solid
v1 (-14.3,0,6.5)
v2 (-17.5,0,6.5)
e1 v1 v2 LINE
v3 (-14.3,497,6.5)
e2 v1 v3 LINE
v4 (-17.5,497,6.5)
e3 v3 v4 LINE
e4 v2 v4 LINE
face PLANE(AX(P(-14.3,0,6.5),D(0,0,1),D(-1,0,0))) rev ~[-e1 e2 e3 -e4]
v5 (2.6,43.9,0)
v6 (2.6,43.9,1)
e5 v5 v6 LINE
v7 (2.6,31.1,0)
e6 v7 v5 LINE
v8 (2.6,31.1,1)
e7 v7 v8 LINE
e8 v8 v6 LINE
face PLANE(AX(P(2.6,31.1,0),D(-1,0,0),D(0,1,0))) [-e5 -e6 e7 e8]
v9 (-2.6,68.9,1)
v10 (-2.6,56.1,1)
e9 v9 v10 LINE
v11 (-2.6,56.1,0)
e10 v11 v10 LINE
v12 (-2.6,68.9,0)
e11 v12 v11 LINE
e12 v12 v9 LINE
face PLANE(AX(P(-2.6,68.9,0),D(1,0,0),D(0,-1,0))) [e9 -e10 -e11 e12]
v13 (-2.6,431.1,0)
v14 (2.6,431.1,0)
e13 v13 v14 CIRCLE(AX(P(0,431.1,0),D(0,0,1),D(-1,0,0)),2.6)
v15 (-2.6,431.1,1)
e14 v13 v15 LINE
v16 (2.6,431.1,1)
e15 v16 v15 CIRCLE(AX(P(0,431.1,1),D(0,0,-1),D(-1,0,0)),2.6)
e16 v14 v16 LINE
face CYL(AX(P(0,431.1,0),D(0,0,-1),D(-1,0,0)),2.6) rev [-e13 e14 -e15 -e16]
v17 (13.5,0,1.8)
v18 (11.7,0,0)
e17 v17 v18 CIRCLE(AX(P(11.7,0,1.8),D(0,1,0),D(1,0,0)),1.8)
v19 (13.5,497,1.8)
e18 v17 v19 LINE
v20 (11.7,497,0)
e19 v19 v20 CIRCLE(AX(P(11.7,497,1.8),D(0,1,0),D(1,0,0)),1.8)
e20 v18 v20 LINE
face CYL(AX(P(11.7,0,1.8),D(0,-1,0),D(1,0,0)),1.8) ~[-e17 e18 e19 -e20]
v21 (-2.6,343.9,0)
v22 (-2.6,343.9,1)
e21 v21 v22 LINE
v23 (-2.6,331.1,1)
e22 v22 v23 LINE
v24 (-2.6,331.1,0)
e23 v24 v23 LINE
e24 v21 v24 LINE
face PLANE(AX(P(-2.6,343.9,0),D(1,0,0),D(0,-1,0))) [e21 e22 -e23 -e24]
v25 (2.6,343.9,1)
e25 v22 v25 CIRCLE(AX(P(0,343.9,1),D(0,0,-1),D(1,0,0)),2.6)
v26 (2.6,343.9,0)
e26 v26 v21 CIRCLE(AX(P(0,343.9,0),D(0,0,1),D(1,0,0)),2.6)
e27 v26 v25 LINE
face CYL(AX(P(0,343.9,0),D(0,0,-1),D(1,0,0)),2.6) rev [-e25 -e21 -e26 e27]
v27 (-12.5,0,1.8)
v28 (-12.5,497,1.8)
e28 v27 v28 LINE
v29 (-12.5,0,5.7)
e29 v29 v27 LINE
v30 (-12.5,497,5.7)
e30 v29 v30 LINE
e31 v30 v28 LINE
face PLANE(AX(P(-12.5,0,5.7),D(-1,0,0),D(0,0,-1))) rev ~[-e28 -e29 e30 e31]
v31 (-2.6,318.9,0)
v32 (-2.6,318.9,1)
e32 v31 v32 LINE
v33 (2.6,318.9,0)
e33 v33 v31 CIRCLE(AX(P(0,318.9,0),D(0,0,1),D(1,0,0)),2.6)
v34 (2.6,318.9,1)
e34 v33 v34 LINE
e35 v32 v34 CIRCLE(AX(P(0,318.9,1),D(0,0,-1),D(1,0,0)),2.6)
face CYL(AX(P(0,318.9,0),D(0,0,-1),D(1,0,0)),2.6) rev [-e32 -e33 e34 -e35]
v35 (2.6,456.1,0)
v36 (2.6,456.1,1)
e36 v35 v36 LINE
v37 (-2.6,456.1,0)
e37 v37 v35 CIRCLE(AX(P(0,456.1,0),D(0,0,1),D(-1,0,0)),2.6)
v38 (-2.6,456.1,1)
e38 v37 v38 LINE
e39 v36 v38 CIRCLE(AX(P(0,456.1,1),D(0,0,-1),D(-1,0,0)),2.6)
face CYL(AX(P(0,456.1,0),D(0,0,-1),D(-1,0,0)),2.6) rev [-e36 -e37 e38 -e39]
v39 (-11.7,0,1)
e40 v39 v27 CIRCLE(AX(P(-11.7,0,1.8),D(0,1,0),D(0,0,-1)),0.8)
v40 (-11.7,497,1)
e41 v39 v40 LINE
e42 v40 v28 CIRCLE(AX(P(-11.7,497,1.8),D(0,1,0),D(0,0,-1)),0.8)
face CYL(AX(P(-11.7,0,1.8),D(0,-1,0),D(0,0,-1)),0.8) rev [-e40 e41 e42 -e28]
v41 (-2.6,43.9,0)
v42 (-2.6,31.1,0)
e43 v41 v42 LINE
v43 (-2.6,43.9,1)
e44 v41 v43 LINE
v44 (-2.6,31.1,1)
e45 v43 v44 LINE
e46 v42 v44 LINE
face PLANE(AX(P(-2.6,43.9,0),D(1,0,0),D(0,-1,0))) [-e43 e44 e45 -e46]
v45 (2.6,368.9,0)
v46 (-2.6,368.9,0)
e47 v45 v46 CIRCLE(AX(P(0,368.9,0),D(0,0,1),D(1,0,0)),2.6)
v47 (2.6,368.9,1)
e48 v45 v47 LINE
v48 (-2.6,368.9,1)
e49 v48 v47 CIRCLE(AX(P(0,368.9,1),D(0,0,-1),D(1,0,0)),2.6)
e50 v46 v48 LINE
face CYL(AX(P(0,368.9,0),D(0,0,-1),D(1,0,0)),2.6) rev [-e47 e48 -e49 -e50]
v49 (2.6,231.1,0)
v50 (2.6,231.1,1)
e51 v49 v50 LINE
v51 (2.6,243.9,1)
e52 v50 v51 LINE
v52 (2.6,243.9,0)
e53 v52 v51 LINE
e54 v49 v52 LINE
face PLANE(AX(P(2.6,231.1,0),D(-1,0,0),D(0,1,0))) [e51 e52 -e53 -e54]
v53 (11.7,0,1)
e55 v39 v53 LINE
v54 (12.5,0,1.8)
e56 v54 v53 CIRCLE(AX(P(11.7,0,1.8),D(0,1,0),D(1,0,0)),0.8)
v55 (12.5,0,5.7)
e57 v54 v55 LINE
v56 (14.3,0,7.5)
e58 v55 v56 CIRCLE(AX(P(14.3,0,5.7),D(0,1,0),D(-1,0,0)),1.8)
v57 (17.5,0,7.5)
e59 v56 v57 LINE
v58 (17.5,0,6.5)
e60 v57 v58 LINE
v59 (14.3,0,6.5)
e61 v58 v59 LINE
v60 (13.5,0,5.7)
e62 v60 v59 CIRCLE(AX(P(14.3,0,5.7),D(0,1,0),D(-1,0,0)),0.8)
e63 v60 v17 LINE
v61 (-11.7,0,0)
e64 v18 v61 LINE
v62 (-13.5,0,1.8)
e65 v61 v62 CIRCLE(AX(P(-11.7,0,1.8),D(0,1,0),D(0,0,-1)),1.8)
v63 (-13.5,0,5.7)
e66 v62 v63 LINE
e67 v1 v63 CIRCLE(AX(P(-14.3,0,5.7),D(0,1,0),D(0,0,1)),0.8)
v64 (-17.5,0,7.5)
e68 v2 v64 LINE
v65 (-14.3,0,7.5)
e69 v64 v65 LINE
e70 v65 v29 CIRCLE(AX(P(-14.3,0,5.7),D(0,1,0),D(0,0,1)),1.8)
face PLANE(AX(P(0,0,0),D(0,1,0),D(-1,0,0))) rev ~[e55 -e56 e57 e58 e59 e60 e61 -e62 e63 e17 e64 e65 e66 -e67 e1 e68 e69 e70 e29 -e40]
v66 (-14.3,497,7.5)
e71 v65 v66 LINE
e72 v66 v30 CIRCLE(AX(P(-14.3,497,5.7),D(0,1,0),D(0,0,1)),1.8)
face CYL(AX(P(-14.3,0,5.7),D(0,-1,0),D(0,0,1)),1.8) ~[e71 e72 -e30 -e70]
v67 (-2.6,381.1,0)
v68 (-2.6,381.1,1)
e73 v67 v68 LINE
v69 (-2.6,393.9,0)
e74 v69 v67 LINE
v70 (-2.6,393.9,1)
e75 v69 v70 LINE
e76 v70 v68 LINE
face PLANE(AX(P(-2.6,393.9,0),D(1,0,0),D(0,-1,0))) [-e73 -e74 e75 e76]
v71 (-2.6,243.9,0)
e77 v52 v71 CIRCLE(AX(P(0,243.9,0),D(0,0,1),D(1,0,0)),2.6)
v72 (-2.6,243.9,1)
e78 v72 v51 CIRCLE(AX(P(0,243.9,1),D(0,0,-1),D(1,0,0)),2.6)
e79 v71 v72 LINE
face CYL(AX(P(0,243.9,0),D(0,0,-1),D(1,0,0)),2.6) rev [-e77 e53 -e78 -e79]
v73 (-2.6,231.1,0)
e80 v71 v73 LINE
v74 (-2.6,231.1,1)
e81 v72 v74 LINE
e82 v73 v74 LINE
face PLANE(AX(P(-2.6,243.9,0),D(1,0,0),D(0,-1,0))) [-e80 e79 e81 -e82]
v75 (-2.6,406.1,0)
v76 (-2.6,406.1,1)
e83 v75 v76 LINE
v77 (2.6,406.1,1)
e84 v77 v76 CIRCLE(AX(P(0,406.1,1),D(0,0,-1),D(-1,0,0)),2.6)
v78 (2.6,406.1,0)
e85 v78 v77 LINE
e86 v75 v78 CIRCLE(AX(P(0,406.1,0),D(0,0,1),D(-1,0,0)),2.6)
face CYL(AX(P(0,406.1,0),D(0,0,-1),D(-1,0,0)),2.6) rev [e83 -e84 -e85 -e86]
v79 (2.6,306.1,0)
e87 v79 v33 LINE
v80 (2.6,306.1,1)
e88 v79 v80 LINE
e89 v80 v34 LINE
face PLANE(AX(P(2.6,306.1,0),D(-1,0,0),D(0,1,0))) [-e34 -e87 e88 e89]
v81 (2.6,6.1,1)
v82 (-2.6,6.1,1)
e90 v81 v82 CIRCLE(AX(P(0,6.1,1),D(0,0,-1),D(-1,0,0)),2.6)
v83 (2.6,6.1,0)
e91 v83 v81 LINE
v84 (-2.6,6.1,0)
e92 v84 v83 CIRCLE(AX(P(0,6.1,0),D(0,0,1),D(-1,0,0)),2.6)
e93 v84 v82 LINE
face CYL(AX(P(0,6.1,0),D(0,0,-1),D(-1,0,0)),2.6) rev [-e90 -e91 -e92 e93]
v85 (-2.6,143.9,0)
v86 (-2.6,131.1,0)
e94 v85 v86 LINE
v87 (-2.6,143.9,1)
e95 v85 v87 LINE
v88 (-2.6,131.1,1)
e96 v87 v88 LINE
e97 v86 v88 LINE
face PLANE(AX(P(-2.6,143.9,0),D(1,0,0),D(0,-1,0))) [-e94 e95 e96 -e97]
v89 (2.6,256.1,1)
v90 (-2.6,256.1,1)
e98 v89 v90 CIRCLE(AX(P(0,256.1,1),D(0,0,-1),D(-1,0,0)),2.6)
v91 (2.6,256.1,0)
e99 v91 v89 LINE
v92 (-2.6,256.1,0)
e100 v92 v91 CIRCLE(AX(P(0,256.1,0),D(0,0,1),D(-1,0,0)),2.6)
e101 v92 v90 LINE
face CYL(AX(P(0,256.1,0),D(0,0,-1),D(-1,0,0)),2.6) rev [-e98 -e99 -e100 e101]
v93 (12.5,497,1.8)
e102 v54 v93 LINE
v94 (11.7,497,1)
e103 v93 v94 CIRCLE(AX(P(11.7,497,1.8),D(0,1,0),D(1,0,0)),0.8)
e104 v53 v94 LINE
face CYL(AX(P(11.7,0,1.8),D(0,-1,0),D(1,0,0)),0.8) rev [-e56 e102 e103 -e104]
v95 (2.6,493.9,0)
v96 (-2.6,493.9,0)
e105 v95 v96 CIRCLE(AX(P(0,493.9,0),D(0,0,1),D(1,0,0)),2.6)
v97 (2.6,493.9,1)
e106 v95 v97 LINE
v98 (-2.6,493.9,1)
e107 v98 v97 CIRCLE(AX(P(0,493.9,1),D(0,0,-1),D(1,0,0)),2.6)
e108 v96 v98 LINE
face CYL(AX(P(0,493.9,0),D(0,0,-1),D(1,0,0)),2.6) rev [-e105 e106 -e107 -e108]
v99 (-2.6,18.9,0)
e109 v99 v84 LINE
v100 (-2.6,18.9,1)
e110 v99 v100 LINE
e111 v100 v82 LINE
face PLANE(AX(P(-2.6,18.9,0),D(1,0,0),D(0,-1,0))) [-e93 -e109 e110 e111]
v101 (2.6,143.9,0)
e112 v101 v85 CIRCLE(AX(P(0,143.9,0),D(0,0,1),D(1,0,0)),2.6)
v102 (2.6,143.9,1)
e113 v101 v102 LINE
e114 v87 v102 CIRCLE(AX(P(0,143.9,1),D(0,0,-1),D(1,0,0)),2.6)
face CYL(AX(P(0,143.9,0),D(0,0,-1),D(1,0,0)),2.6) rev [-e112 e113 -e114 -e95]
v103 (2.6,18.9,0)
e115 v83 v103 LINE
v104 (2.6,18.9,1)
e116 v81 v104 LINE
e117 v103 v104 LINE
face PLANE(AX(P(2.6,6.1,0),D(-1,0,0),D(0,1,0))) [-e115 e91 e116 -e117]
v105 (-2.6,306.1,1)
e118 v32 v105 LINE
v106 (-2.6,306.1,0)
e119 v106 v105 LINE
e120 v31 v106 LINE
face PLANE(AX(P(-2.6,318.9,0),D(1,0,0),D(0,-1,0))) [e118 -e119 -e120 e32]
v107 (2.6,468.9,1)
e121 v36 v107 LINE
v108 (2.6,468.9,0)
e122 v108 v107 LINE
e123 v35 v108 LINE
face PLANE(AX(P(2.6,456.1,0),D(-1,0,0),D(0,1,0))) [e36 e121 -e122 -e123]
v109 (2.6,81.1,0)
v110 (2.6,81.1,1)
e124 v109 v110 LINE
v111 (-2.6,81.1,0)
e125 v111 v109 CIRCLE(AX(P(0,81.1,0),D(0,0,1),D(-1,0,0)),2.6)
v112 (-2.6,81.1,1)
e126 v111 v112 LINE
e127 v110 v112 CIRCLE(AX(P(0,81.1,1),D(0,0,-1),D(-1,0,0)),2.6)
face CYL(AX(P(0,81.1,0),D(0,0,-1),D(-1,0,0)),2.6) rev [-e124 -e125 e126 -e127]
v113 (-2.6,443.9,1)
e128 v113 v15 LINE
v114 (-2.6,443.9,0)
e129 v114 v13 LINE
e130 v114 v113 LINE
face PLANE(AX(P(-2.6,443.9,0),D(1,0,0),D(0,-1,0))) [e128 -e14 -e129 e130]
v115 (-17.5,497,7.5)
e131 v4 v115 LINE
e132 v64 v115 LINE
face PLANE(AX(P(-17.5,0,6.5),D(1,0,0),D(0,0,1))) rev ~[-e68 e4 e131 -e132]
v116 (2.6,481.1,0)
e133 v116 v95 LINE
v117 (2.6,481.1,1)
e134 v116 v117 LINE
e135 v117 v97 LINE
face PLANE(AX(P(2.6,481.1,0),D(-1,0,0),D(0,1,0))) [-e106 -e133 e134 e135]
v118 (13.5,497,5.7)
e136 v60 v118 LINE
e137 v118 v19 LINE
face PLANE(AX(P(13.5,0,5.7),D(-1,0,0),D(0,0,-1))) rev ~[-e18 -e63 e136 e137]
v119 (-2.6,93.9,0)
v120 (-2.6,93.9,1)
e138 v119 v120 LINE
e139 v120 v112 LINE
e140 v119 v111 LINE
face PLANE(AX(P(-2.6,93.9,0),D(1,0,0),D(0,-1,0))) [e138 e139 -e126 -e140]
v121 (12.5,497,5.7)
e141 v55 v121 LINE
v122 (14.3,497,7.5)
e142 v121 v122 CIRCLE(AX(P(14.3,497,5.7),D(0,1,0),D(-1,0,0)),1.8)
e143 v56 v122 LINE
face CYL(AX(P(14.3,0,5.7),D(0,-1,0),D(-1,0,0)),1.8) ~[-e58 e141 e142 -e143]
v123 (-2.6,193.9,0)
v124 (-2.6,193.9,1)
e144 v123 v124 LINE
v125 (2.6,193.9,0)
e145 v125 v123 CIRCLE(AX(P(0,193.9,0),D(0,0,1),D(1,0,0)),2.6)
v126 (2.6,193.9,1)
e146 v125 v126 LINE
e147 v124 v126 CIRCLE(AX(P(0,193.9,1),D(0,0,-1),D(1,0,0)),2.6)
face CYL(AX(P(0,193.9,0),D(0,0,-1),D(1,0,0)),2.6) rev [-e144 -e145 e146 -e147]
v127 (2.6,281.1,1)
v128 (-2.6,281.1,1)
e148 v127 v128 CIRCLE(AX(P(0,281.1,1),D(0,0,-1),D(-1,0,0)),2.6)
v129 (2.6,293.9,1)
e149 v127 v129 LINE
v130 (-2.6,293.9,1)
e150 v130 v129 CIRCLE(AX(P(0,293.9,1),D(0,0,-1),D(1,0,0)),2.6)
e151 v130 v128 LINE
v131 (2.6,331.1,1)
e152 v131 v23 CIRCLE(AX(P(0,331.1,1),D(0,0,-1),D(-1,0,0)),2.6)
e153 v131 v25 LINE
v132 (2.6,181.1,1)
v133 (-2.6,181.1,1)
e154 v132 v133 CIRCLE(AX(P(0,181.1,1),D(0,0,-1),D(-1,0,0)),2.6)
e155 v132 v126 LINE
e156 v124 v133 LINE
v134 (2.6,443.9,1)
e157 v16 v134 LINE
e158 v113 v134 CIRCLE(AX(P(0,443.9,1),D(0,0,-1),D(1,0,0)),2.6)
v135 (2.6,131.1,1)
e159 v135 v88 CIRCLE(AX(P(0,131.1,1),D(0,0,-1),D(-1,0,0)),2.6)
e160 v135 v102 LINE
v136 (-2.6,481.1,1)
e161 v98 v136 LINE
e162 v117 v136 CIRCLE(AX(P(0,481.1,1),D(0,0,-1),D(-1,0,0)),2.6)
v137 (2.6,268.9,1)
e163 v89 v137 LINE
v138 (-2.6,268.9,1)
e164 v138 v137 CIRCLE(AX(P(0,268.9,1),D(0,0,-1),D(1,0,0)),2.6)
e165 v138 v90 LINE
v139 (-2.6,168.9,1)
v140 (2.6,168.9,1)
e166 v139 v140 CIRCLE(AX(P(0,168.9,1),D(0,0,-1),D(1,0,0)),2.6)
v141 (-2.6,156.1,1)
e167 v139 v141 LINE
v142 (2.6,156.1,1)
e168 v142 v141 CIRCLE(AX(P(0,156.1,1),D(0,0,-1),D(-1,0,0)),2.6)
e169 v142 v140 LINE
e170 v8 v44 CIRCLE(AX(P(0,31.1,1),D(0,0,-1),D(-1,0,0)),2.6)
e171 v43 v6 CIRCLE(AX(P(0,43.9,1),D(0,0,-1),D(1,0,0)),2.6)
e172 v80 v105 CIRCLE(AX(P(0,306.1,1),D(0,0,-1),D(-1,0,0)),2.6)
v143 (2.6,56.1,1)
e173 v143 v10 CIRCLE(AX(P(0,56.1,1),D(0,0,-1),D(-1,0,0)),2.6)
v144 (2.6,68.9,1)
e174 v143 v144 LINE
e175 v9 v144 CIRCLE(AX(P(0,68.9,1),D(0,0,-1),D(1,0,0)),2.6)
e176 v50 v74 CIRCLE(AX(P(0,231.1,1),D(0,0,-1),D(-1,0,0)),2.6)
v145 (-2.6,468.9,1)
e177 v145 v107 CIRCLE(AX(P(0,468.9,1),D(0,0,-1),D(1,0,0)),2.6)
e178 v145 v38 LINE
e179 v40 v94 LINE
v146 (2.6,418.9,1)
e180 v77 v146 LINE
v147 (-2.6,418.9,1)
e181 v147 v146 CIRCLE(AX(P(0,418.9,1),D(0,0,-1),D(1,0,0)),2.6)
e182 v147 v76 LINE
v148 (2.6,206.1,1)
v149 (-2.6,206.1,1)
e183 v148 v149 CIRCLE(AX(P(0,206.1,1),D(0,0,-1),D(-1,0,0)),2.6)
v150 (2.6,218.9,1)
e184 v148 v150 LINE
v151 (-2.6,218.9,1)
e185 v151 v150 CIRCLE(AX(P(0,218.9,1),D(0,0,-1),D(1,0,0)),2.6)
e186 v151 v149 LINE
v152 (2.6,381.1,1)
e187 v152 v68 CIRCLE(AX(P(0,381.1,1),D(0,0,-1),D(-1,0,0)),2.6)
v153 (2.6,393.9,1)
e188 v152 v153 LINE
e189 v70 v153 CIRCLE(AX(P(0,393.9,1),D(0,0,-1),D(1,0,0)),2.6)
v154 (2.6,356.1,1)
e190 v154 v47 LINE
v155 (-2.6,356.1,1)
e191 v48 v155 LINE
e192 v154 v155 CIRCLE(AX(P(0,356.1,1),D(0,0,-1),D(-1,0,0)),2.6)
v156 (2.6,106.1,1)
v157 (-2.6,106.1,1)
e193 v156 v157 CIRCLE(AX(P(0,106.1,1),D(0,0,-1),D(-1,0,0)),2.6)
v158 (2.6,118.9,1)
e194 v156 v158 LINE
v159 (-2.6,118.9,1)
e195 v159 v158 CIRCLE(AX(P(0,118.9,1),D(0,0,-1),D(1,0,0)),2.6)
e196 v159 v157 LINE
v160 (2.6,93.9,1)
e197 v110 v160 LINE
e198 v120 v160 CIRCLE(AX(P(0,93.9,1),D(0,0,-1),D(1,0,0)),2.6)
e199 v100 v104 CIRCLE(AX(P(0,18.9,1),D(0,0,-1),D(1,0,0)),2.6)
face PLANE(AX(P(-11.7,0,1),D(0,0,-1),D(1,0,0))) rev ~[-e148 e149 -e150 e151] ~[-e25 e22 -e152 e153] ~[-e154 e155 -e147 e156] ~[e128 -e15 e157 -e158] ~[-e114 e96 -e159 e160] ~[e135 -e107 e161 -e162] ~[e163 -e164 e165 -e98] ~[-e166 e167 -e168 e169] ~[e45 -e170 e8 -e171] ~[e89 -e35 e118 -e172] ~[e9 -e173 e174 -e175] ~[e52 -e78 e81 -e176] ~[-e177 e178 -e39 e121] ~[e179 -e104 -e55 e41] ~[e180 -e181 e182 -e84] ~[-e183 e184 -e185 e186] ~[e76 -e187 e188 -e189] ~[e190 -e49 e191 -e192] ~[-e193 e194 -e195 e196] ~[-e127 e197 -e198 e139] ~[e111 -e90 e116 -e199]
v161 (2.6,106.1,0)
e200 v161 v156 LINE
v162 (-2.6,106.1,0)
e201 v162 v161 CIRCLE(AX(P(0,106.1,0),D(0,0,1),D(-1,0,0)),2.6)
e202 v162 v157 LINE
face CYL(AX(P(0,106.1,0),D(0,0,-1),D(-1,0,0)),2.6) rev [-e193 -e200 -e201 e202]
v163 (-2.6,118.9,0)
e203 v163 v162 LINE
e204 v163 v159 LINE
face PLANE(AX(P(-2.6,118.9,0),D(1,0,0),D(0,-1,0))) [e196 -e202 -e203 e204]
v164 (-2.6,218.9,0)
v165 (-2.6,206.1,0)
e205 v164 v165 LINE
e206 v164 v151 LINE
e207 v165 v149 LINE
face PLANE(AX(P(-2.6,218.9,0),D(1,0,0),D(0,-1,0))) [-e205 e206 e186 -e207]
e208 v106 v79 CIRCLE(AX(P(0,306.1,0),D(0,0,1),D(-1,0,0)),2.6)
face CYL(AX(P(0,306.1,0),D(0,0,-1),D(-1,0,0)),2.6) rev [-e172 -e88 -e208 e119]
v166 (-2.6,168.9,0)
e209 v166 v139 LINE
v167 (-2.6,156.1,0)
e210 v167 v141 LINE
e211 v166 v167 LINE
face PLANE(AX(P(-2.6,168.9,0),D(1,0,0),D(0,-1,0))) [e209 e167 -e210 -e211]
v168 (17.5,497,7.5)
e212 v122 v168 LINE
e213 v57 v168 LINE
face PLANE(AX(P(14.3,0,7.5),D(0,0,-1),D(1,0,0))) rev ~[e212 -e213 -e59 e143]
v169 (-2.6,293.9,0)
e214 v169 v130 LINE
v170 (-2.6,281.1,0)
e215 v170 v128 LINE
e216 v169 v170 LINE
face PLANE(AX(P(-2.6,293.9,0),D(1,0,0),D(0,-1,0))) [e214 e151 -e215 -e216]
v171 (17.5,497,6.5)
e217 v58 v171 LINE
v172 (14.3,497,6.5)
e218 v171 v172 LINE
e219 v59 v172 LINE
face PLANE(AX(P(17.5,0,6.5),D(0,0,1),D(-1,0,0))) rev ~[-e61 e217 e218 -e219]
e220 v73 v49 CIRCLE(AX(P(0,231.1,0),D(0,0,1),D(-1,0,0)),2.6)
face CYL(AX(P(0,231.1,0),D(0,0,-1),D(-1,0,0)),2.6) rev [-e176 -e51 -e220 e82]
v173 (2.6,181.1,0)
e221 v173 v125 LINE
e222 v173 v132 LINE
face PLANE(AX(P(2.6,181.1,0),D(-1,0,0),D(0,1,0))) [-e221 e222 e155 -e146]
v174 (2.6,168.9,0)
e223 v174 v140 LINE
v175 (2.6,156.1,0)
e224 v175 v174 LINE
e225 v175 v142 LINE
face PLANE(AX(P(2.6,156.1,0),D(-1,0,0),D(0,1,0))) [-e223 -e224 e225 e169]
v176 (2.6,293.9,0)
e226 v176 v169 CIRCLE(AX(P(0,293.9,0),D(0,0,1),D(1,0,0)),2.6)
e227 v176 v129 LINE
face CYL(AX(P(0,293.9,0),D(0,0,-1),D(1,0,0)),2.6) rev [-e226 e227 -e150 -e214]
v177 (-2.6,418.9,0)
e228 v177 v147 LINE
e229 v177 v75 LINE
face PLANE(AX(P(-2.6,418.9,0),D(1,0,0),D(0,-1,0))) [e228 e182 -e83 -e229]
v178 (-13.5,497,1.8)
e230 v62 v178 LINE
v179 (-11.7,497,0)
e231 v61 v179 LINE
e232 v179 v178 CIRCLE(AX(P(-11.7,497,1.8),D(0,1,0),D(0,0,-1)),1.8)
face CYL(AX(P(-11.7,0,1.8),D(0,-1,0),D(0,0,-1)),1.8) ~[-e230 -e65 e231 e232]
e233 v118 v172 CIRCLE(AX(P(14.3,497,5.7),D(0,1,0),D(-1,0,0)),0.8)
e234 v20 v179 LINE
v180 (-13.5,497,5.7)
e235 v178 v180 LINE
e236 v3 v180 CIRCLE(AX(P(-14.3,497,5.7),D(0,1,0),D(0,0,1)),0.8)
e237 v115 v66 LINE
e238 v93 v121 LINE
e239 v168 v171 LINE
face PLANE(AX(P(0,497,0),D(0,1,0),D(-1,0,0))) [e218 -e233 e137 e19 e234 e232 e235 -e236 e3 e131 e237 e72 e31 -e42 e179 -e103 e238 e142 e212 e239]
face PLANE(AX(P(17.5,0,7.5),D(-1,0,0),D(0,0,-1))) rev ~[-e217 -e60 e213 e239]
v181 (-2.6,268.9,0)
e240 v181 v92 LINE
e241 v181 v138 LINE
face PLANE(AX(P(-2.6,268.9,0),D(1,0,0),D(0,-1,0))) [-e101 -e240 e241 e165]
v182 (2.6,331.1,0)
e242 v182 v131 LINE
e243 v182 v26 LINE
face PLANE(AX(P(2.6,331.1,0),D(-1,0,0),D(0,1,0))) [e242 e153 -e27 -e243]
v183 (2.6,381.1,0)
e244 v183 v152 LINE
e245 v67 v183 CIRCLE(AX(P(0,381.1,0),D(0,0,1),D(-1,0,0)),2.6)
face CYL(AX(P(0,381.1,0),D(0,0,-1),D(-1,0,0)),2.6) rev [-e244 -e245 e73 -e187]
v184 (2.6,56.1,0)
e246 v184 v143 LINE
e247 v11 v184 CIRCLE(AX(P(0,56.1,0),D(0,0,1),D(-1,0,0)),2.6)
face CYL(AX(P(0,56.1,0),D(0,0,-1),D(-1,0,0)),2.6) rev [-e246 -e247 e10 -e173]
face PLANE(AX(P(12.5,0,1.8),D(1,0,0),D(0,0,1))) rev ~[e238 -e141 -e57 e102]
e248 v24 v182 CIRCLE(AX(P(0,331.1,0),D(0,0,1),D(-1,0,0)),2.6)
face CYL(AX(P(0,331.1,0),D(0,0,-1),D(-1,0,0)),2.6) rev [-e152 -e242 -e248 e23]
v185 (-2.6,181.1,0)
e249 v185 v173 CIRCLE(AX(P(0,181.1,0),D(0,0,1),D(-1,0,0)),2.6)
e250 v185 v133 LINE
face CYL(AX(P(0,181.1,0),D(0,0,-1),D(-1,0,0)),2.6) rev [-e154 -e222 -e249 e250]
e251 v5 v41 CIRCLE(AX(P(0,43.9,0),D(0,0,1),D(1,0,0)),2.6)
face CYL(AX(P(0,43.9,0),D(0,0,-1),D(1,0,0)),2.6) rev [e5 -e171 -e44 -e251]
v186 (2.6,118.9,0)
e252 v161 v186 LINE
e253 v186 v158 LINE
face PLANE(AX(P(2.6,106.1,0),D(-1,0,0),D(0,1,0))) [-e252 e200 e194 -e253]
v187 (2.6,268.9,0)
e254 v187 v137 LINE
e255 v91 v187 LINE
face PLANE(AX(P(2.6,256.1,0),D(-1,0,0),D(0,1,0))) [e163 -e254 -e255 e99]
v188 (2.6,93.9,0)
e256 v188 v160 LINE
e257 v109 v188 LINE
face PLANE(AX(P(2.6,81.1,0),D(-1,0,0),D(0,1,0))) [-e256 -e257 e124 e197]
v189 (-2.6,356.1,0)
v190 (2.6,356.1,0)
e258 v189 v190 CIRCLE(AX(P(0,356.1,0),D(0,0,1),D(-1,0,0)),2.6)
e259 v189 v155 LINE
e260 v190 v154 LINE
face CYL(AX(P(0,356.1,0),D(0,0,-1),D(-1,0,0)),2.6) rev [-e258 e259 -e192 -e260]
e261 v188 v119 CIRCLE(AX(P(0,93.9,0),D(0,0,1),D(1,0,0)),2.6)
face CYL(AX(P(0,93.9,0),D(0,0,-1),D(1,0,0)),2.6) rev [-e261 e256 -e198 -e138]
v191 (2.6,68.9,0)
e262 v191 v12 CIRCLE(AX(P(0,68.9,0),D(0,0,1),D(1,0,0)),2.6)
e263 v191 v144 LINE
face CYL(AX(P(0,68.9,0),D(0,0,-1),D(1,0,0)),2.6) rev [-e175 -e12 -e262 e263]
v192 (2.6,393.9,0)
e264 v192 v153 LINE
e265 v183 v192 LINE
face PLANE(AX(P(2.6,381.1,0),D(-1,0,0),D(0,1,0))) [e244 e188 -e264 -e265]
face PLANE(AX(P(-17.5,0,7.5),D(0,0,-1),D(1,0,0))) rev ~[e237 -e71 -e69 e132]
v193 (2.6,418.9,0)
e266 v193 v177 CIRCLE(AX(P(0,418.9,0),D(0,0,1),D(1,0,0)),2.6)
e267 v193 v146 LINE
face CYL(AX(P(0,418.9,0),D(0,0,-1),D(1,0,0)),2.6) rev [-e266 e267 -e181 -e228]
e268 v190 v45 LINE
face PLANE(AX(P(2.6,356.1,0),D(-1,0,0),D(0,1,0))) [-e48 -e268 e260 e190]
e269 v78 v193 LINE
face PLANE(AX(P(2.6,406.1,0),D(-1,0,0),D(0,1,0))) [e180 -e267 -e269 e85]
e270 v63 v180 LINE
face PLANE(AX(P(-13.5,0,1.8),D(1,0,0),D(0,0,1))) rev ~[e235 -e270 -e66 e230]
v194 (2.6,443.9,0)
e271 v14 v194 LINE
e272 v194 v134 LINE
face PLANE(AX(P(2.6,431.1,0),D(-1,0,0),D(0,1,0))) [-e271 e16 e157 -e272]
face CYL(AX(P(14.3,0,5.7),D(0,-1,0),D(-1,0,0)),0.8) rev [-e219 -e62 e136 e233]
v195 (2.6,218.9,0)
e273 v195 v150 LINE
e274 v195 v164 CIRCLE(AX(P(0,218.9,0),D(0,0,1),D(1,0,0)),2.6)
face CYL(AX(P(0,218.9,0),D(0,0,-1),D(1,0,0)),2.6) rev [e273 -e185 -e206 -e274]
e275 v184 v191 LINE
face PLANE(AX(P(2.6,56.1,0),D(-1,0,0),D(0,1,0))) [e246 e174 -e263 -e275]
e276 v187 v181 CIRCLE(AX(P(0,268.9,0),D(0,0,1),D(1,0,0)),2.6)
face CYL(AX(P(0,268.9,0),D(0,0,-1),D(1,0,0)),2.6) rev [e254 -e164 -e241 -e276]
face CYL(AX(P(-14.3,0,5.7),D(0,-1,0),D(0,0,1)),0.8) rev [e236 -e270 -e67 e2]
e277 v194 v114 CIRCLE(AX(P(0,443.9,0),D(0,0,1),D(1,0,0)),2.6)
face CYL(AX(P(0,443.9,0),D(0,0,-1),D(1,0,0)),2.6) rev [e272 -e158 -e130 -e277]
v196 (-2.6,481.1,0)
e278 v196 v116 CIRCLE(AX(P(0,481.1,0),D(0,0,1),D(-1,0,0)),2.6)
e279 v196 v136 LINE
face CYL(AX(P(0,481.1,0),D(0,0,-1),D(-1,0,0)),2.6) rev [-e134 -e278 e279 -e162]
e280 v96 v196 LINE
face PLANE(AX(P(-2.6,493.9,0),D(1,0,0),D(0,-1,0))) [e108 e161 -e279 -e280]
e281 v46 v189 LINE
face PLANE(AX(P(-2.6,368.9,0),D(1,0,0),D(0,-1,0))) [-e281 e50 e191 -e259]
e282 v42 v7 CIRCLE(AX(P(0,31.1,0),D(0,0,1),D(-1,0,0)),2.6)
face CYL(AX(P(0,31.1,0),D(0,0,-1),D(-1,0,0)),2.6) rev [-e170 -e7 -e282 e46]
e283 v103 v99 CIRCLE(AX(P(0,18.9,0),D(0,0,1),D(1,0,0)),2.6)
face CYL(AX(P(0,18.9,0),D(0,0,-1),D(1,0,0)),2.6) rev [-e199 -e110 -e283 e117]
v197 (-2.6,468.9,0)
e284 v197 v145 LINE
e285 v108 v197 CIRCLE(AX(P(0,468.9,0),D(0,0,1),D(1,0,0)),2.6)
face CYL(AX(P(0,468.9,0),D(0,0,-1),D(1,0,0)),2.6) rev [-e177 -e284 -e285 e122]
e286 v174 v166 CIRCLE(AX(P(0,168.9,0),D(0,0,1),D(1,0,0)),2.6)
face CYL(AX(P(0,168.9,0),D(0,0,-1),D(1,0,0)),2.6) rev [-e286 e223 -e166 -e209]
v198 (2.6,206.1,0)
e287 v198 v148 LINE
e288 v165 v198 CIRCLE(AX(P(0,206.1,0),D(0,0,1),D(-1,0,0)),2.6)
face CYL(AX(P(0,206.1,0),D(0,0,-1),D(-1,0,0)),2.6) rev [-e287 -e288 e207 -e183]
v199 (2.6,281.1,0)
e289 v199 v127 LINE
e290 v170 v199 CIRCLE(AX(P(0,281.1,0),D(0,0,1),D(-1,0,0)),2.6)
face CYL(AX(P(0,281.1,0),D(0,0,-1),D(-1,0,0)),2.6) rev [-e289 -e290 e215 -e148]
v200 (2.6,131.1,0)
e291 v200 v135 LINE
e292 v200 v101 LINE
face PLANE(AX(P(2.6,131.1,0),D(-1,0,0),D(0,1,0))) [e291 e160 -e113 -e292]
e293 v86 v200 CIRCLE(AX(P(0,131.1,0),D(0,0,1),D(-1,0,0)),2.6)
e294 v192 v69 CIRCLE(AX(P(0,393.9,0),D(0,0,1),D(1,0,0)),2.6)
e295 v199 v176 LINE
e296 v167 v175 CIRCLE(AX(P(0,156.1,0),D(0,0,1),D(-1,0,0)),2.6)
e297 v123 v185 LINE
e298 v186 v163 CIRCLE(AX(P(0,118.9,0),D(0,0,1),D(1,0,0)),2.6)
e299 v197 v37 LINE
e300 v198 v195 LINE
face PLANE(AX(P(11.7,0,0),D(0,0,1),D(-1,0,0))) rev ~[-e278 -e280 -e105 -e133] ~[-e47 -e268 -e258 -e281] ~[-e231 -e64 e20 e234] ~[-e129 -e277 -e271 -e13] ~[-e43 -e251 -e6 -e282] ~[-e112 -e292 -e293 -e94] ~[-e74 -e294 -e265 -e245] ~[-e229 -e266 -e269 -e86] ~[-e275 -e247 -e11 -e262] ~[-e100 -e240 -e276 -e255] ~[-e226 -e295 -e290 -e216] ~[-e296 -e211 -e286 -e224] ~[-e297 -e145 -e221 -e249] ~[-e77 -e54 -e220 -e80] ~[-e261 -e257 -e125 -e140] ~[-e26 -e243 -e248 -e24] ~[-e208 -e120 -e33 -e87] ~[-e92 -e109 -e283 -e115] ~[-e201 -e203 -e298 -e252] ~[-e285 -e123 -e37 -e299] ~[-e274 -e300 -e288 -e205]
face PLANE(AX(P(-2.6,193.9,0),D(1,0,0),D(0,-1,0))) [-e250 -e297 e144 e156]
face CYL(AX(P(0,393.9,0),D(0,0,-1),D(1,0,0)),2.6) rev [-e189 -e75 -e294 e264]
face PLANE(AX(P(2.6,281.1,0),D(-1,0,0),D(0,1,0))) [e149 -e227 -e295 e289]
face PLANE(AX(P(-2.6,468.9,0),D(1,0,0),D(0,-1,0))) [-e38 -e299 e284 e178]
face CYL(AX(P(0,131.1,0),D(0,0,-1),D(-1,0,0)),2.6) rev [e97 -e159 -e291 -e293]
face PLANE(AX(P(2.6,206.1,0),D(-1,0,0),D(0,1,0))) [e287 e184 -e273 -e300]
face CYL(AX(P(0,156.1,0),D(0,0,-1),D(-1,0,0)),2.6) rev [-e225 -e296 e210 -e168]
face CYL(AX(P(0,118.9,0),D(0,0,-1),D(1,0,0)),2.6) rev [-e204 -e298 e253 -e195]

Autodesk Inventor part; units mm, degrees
sketch "Sketch_2" plane through (0, 0, 0) normal (0, 1, 0) x (-1, 0, 0)
  line L0 (17.5, 6.5) -> (17.5, 7.5)
  line L1 (17.5, 7.5) -> (14.3, 7.5)
  arc A0 (14.3, 7.5) -> (12.5, 5.7) centre (14.3, 5.7) ccw
  line L2 (12.5, 5.7) -> (12.5, 1.8)
  arc A1 (11.7, 1) -> (12.5, 1.8) centre (11.7, 1.8) ccw
  line L3 (11.7, 1) -> (-11.7, 1)
  arc A2 (-12.5, 1.8) -> (-11.7, 1) centre (-11.7, 1.8) ccw
  line L4 (-12.5, 1.8) -> (-12.5, 5.7)
  arc A3 (-12.5, 5.7) -> (-14.3, 7.5) centre (-14.3, 5.7) ccw
  line L5 (-14.3, 7.5) -> (-17.5, 7.5)
  line L6 (-17.5, 7.5) -> (-17.5, 6.5)
  line L7 (-17.5, 6.5) -> (-14.3, 6.5)
  arc A4 (-13.5, 5.7) -> (-14.3, 6.5) centre (-14.3, 5.7) ccw
  line L8 (-13.5, 5.7) -> (-13.5, 1.8)
  arc A5 (-13.5, 1.8) -> (-11.7, 0) centre (-11.7, 1.8) ccw
  line L9 (-11.7, 0) -> (11.7, 0)
  arc A6 (11.7, 0) -> (13.5, 1.8) centre (11.7, 1.8) ccw
  line L10 (13.5, 1.8) -> (13.5, 5.7)
  arc A7 (14.3, 6.5) -> (13.5, 5.7) centre (14.3, 5.7) ccw
  line L11 (14.3, 6.5) -> (17.5, 6.5)
extrude "Extrusion1" add sketch "Sketch_2" along normal blind 497
sketch "Sketch_6" plane through (0, 0, 0) normal (0, 0, 1) x (1, 0, 0)
  arc A0 (-2.6, 6.1) -> (2.6, 6.1) centre (0, 6.1) ccw
  line L0 (2.6, 6.1) -> (2.6, 18.9)
  arc A1 (2.6, 18.9) -> (-2.6, 18.9) centre (0, 18.9) ccw
  line L1 (-2.6, 18.9) -> (-2.6, 6.1)
extrude "Extrusion2" cut sketch "Sketch_6" along normal blind 2
pattern_linear "Rectangular Pattern1" count 80 spacing 25 along (0, 1, 0) of "Extrusion2"
ref_plane "Plano de trabalho1" through (0, 248.5, 0) normal (0, -1, 0) x (1, 0, 0)
properties part number "PP0735H(1)"
